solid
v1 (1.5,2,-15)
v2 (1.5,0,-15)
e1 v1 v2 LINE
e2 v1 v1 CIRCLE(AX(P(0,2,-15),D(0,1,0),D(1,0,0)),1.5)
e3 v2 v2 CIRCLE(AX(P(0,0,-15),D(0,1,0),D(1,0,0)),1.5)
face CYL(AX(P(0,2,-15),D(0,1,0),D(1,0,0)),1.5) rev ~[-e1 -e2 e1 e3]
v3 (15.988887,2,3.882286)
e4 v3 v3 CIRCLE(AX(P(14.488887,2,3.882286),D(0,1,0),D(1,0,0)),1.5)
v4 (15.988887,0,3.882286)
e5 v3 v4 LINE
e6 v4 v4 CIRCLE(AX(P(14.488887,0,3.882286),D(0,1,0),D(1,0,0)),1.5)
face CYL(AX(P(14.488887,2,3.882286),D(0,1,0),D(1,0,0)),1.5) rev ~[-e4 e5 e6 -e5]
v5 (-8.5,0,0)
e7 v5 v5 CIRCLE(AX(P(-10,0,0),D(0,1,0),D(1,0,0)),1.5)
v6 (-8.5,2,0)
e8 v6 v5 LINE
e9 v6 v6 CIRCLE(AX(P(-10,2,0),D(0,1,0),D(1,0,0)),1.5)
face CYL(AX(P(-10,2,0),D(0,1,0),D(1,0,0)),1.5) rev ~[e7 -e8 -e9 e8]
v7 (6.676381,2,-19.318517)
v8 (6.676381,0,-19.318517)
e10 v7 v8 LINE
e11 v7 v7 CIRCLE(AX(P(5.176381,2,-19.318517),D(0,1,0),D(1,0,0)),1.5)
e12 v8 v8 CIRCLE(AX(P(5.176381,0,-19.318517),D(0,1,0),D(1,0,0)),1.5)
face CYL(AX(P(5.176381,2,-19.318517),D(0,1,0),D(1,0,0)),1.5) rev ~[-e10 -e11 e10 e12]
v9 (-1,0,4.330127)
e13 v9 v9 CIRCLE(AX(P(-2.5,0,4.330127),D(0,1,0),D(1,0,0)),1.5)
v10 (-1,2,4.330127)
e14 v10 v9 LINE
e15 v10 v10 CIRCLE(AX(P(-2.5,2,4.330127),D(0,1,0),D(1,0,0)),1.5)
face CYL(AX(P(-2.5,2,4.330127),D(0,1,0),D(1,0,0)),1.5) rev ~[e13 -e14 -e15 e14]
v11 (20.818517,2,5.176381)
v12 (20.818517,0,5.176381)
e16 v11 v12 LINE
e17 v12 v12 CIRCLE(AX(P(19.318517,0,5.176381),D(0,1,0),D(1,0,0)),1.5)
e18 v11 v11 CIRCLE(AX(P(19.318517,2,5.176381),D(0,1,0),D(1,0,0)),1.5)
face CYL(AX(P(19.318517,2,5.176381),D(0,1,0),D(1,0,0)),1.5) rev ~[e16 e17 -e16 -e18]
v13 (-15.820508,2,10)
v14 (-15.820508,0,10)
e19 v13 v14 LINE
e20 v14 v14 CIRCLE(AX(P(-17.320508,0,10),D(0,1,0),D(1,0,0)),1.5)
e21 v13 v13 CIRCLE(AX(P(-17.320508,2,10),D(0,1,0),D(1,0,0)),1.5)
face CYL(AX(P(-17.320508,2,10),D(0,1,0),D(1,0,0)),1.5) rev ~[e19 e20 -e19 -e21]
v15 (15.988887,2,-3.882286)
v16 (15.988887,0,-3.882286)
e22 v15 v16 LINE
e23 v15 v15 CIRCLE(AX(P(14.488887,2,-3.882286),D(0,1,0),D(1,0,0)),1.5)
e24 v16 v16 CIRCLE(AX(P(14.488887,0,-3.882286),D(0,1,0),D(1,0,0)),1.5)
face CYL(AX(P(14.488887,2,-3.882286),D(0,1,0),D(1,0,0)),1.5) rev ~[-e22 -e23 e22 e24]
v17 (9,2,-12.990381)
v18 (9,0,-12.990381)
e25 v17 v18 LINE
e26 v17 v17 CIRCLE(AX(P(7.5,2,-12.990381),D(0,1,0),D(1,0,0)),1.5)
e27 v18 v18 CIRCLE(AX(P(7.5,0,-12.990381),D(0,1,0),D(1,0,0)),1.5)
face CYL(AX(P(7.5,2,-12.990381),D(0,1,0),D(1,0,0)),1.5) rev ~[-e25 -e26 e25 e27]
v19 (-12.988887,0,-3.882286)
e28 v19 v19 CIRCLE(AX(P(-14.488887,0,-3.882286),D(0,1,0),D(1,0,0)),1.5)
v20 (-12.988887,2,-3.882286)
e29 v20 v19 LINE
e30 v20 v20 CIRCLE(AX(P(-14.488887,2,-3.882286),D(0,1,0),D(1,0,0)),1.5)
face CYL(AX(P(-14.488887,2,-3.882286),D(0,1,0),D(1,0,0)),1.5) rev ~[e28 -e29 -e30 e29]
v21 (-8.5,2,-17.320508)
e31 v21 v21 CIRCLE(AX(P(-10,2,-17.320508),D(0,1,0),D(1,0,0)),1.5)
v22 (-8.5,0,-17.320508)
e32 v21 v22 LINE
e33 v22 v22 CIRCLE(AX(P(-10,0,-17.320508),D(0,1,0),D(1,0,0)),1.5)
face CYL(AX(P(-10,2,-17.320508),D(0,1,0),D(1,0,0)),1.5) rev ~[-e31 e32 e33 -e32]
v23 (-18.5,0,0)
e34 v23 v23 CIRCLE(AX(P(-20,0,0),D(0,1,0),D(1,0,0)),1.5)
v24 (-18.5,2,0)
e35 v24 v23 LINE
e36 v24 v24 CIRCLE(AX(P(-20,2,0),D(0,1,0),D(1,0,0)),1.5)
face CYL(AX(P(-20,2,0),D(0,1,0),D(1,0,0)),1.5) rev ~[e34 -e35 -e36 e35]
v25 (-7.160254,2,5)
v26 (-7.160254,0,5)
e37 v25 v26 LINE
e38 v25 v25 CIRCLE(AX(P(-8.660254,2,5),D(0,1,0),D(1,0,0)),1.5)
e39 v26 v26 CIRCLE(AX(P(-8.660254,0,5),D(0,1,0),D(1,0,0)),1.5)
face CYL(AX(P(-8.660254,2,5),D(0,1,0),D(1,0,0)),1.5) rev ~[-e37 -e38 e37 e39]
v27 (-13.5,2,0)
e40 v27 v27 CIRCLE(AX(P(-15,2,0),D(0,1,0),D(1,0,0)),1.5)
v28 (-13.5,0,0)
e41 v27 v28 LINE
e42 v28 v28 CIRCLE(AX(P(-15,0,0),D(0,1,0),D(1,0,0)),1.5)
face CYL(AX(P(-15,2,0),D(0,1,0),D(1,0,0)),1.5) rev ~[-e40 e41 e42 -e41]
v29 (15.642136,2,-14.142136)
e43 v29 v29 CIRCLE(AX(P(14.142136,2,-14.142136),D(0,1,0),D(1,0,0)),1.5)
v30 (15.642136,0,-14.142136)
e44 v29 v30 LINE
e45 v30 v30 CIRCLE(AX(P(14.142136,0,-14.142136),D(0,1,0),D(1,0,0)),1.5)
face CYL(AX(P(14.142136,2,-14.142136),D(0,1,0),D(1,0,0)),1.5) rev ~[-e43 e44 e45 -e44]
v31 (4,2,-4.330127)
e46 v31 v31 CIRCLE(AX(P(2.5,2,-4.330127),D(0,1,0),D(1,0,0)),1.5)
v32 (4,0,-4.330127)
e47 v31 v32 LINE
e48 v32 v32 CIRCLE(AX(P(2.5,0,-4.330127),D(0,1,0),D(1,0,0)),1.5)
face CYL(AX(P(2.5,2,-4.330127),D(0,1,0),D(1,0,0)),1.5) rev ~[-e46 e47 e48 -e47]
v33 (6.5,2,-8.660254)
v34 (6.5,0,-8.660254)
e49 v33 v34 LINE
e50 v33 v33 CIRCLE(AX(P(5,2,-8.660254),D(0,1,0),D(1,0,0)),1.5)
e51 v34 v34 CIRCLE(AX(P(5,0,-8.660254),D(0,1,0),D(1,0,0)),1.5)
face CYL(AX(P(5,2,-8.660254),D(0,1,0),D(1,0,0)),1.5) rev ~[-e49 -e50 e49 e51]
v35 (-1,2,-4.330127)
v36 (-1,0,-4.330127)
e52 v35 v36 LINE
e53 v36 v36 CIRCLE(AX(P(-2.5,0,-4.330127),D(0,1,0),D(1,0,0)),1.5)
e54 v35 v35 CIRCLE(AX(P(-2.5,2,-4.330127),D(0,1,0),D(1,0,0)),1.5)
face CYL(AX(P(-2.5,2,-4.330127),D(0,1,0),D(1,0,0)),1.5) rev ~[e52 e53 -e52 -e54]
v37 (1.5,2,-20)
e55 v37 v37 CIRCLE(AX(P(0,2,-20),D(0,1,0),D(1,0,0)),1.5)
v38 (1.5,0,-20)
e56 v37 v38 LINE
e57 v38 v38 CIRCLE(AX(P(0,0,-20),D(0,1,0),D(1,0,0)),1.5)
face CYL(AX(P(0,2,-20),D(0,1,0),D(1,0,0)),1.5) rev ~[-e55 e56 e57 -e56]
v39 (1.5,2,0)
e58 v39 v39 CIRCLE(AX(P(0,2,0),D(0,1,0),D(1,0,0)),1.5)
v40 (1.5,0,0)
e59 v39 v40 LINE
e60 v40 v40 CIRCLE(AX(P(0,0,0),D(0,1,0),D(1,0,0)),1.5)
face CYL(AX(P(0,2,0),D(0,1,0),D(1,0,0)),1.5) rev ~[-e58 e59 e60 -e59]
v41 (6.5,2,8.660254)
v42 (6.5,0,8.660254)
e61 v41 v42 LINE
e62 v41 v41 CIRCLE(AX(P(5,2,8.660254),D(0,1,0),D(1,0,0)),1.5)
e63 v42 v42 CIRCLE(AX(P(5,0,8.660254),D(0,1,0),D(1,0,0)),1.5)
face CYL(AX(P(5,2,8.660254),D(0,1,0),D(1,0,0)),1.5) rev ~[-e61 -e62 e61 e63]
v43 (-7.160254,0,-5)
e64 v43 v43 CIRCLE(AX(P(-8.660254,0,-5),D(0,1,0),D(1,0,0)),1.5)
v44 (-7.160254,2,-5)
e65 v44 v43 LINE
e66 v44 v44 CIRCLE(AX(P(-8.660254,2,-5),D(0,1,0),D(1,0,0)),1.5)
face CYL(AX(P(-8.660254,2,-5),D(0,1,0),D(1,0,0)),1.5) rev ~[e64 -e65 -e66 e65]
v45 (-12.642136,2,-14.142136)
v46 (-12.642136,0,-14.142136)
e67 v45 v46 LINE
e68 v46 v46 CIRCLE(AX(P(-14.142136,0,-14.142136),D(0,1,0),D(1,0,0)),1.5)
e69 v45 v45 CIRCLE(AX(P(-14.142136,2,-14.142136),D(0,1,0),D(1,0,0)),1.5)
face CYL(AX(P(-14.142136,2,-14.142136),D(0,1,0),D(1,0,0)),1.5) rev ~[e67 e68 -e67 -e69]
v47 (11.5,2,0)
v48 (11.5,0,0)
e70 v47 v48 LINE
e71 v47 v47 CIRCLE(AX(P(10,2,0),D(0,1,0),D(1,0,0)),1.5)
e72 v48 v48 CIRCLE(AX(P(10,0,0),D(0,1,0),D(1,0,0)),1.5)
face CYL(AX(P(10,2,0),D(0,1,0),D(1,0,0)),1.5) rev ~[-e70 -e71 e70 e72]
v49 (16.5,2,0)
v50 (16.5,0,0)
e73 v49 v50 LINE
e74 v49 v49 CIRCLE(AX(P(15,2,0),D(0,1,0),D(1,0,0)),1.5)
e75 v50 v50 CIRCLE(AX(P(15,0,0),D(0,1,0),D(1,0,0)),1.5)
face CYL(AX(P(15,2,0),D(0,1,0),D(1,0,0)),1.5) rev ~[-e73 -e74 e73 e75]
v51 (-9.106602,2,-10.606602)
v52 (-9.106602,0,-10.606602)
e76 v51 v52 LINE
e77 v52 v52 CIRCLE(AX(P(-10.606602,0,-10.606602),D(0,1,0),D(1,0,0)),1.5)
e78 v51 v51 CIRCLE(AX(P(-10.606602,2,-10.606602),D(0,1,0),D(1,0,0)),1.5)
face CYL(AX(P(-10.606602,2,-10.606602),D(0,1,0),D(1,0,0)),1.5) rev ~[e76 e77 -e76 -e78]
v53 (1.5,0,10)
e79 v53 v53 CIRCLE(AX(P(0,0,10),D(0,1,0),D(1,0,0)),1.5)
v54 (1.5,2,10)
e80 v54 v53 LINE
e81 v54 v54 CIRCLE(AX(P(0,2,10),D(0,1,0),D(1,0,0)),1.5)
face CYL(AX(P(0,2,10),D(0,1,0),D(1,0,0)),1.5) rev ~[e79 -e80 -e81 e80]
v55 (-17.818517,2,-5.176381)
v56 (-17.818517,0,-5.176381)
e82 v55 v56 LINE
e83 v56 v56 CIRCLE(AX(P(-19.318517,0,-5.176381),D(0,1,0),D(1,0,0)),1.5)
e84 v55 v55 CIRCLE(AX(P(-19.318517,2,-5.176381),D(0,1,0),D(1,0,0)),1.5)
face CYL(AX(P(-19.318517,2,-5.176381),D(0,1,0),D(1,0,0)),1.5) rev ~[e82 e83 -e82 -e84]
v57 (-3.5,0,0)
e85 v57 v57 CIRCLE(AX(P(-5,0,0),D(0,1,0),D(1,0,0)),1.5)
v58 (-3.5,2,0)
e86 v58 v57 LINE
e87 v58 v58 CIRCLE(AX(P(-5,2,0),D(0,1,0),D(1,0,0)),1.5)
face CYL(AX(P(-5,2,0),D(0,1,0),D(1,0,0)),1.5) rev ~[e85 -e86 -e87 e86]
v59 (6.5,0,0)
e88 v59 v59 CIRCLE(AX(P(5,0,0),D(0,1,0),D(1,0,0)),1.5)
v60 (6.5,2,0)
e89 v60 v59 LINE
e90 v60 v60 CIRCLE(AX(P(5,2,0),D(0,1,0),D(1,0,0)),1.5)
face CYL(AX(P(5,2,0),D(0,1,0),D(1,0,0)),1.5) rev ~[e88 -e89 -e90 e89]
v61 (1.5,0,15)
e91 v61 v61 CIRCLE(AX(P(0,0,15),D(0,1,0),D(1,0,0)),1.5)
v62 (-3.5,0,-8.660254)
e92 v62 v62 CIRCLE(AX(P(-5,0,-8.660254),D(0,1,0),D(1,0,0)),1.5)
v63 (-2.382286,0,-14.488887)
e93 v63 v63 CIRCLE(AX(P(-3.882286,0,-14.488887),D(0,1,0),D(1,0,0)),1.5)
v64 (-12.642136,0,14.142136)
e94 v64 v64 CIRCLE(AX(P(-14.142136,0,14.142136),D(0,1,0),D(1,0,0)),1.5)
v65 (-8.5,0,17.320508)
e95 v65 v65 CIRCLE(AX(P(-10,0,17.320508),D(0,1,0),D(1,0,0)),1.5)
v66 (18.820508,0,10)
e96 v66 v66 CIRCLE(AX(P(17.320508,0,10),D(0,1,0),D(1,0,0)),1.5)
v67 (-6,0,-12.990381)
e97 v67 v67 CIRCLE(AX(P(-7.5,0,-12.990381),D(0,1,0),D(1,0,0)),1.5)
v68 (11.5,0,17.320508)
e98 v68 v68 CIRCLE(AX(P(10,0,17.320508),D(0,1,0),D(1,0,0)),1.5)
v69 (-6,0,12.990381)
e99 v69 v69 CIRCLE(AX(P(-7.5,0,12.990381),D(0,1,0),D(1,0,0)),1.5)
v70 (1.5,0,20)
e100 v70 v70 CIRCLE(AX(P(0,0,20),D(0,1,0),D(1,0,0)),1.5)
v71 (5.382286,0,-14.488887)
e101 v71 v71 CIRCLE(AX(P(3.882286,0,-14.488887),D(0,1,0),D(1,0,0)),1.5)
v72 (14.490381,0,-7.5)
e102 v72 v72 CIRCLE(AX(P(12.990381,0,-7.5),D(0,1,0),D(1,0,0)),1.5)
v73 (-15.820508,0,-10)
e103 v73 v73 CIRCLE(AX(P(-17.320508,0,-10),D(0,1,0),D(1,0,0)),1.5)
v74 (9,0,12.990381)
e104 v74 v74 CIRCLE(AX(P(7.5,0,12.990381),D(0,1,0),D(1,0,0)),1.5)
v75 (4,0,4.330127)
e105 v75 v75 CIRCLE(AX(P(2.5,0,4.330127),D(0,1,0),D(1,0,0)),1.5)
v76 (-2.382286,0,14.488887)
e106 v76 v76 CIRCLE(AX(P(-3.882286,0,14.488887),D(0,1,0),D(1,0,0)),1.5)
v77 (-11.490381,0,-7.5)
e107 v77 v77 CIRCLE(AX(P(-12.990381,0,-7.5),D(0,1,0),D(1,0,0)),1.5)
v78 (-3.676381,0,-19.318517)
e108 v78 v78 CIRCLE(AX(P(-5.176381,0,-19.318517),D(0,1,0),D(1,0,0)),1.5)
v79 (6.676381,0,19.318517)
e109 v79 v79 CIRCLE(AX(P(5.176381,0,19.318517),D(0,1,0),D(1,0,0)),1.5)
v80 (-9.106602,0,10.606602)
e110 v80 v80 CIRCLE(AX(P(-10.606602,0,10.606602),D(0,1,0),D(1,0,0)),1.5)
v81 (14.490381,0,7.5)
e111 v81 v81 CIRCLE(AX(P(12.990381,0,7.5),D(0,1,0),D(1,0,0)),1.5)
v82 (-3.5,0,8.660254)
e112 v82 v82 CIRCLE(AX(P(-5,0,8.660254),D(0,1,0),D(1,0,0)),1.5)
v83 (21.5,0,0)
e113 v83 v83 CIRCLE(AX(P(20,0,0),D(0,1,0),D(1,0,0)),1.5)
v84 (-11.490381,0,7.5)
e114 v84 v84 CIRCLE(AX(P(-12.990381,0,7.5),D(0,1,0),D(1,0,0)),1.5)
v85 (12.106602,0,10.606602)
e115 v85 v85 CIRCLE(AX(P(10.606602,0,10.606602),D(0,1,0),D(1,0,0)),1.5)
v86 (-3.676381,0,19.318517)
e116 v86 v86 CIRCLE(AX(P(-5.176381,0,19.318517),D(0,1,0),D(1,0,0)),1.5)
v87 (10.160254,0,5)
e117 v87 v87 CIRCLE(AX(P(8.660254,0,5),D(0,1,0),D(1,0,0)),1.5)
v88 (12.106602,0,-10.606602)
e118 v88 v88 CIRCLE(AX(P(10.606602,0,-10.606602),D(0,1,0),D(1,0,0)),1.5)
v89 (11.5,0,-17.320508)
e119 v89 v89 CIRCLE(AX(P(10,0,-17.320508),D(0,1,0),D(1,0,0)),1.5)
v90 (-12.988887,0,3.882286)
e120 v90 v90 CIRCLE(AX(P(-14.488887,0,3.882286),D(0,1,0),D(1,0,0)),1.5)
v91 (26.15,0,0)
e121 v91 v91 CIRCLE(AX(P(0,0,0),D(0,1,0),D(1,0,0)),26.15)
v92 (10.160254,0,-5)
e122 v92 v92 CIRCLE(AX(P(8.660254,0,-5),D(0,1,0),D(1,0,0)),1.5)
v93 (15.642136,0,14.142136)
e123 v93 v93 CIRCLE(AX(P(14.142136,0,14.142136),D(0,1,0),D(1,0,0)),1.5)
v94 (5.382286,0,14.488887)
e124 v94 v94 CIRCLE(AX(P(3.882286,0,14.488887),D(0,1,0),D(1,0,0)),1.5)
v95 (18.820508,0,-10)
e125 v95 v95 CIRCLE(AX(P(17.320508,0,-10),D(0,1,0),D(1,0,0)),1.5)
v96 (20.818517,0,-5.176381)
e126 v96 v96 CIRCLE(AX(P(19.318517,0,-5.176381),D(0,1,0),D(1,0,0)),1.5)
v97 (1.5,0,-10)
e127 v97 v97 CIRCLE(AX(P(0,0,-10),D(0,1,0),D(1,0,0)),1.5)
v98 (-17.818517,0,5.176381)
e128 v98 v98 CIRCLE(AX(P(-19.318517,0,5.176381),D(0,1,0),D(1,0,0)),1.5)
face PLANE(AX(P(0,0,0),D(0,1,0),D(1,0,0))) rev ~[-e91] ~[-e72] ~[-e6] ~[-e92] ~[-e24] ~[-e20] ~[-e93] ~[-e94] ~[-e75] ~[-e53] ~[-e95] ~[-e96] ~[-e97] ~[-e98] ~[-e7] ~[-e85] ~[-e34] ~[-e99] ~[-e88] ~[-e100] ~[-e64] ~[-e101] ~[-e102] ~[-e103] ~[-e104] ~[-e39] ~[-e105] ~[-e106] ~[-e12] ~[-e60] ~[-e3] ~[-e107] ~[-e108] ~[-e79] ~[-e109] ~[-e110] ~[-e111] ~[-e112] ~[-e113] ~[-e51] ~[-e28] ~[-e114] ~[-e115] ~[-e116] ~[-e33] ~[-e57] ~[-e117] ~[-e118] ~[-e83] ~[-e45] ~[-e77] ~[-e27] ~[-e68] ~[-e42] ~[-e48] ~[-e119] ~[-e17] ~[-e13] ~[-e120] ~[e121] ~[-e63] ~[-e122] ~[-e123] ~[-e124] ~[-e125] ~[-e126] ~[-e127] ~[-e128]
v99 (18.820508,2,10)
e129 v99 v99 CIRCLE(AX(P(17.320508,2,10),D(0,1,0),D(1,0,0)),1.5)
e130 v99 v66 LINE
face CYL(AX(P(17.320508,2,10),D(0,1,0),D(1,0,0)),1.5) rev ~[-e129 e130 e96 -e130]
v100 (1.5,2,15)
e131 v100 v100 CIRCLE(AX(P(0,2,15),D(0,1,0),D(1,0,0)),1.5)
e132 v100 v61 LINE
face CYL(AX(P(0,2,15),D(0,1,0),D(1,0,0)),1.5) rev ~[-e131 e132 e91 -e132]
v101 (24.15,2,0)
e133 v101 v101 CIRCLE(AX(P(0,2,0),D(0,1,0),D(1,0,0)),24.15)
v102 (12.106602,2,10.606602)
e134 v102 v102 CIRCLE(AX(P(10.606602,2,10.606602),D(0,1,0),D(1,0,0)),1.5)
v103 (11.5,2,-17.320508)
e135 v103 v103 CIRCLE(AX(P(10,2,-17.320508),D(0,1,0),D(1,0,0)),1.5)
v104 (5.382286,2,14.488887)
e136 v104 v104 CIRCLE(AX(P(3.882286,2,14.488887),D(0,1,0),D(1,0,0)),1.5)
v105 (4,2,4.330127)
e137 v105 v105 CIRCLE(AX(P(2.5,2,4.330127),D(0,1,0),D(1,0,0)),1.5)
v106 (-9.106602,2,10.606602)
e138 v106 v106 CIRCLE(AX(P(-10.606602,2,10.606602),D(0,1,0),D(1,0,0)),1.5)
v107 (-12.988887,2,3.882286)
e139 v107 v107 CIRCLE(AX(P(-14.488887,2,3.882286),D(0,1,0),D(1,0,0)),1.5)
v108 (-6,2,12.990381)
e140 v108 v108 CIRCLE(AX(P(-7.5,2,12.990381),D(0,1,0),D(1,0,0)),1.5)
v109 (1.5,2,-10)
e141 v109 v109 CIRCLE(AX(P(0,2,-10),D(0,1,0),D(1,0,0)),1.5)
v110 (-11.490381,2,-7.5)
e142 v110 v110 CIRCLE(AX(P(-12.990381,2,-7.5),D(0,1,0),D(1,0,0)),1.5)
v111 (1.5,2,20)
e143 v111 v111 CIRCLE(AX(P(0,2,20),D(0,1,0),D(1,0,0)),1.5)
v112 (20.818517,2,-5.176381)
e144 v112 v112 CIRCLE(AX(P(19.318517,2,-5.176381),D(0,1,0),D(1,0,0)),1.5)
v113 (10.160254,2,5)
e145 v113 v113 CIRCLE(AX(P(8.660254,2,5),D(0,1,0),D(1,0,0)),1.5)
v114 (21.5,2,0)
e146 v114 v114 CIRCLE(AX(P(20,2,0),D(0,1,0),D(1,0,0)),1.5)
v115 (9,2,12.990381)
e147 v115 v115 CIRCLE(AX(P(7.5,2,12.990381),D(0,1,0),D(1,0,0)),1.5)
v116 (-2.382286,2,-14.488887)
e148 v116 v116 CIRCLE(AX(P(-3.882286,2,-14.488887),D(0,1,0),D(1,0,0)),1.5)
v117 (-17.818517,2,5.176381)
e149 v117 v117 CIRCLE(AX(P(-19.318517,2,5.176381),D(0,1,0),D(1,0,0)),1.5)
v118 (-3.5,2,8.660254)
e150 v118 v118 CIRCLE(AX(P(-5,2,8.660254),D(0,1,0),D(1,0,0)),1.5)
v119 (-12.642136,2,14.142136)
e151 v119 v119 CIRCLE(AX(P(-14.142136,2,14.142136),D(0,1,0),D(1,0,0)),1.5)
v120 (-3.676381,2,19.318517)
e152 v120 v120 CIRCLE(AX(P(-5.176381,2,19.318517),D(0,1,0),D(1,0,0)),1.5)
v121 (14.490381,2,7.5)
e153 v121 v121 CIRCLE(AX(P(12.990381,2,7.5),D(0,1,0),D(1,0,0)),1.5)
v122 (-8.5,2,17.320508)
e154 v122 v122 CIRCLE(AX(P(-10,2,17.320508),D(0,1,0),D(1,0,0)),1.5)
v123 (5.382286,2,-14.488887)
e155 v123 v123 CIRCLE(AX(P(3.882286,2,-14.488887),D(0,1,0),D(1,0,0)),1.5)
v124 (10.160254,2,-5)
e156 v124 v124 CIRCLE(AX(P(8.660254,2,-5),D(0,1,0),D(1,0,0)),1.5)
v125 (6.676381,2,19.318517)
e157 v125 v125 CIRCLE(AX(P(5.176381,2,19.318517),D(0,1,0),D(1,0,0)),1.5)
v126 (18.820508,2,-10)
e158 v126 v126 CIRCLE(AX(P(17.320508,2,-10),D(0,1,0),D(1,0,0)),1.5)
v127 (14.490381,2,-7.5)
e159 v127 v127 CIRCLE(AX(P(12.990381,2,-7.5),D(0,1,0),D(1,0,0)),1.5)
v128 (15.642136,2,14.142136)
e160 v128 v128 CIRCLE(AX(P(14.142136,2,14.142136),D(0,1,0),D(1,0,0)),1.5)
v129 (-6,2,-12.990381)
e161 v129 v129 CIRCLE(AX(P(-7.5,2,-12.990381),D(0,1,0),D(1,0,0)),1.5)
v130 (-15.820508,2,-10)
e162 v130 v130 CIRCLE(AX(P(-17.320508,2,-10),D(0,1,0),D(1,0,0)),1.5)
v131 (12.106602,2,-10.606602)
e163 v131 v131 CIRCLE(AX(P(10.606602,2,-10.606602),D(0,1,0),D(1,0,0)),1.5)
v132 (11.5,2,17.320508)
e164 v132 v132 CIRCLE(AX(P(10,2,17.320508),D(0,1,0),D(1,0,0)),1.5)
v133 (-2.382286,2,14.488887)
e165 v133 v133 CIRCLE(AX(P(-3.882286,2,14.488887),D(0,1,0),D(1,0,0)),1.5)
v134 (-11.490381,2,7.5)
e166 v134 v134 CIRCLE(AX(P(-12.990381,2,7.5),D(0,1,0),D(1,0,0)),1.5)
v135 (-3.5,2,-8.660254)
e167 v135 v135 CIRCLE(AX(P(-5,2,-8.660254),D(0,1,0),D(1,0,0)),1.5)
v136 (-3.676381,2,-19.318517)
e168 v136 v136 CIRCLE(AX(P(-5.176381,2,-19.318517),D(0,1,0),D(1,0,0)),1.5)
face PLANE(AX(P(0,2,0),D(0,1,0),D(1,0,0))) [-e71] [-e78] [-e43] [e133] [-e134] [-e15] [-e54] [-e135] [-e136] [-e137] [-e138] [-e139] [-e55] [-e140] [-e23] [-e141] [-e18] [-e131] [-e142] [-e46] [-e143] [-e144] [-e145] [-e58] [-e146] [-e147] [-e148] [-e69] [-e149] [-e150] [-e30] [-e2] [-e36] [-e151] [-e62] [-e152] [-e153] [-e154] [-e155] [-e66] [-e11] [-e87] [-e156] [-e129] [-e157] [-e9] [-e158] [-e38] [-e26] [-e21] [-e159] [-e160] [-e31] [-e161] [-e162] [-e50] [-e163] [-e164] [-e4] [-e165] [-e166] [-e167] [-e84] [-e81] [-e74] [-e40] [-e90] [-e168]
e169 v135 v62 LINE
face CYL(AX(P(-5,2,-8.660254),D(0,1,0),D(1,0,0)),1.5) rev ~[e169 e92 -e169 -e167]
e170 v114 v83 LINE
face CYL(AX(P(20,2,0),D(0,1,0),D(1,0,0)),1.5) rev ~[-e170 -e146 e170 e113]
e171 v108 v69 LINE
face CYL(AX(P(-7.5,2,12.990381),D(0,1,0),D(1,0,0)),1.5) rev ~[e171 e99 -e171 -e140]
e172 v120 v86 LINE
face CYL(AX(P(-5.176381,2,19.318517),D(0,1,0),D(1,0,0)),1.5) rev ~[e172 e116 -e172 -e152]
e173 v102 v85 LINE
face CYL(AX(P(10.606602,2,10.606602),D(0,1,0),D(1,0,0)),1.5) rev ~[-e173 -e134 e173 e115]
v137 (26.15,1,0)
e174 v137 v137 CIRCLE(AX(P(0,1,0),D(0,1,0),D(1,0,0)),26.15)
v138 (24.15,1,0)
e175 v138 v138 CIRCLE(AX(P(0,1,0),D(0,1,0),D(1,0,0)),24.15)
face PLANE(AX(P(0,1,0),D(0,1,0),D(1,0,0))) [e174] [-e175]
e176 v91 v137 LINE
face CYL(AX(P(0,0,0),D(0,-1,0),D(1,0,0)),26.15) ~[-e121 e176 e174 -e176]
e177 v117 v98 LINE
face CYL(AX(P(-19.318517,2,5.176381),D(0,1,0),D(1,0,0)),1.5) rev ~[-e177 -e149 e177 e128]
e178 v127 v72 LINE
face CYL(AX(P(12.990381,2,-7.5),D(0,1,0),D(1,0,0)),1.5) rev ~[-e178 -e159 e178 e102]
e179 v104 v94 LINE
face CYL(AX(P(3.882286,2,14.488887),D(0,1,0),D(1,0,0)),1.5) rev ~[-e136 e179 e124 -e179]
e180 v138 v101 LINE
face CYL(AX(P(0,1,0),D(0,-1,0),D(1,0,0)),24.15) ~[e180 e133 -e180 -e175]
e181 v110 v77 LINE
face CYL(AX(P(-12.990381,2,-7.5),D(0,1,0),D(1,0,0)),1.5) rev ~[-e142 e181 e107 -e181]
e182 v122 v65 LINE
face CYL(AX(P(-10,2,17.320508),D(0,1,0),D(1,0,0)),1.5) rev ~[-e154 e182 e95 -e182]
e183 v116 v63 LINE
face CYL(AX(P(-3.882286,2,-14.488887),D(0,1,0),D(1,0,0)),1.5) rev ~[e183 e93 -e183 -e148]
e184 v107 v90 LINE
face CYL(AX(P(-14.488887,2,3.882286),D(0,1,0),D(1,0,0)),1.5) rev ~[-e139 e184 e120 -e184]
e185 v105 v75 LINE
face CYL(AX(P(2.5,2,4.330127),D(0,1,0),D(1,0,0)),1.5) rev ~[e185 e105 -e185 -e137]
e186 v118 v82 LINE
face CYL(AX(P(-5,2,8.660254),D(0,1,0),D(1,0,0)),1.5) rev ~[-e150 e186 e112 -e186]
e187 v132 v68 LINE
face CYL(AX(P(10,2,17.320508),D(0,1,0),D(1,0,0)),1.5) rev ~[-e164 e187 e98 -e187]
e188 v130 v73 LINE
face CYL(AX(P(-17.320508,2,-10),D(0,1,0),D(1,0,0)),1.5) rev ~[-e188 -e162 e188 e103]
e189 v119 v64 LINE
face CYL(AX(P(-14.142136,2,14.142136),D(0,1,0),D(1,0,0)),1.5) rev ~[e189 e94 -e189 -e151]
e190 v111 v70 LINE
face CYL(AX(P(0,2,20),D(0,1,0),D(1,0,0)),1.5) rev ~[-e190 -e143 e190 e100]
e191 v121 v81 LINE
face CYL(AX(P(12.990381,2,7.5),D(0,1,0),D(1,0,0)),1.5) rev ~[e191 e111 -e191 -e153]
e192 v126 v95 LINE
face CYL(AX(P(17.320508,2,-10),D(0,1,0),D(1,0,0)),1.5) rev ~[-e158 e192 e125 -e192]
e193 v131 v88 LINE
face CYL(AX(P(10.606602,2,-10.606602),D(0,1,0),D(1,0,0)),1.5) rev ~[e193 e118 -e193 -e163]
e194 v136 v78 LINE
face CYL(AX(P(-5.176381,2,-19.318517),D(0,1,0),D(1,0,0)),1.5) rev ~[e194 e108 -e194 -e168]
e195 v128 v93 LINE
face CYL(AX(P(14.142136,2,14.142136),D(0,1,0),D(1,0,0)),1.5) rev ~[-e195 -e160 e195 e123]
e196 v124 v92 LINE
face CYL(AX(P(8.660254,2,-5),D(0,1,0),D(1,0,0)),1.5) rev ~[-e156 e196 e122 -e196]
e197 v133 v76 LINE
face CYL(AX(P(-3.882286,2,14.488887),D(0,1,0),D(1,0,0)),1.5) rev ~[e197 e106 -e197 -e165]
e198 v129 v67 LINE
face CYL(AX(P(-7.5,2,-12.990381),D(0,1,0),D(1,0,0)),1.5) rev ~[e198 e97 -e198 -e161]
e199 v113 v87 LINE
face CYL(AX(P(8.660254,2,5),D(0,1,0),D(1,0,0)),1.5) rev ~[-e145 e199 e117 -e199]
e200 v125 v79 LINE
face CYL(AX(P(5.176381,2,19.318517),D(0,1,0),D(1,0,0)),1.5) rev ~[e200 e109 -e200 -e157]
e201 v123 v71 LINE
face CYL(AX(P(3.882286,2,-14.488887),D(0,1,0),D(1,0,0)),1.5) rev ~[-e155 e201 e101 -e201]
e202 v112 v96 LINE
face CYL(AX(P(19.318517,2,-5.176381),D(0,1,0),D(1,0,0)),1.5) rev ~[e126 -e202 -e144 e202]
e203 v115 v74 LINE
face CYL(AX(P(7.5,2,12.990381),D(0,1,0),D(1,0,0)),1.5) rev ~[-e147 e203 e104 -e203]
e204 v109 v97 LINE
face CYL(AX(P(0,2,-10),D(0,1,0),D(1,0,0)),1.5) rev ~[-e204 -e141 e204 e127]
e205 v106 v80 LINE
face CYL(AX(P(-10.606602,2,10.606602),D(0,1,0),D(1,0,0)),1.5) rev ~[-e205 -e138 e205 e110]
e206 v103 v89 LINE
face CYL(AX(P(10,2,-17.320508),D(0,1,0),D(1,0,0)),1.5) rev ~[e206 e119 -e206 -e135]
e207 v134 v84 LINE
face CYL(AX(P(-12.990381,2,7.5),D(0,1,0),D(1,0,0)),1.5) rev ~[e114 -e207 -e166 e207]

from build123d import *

# Parameters (mm, degrees)
SKETCH_1_R          = 26.15
EXTRUDE_1_DEPTH     = 1
SKETCH_2_R          = 24.15
EXTRUDE_2_DEPTH     = 1
SKETCH_3_R          = 1.5
CUT_EXTRUDE_1_DEPTH = 3


with BuildPart() as part:
    # Эскиз1 → Бобышка-Вытянуть1 (new body)
    with BuildSketch(Plane(origin=(0, 0, 0), x_dir=(1, 0, 0), z_dir=(0, 1, 0))):
        Circle(SKETCH_1_R)
    extrude(amount=EXTRUDE_1_DEPTH)

    # Эскиз2 → Бобышка-Вытянуть2 (add)
    with BuildSketch(Plane(origin=(0, 1, 0), x_dir=(1, 0, 0), z_dir=(0, 1, 0))):
        Circle(SKETCH_2_R)
    extrude(amount=EXTRUDE_2_DEPTH)

    # Эскиз3 → Вырез-Вытянуть1 (cut, through all)
    with BuildSketch(Plane(origin=(0, 2, 0), x_dir=(1, 0, 0), z_dir=(0, 1, 0))):
        Circle(SKETCH_3_R)
        with Locations((5, 0)):
            Circle(SKETCH_3_R)
        with Locations((10, 0)):
            Circle(SKETCH_3_R)
        with Locations((15, 0)):
            Circle(SKETCH_3_R)
        with Locations((20, 0)):
            Circle(SKETCH_3_R)
        with Locations((2.5, -4.330127019)):
            Circle(SKETCH_3_R)
        with Locations((5, -8.660254038)):
            Circle(SKETCH_3_R)
        with Locations((7.5, -12.990381057)):
            Circle(SKETCH_3_R)
        with Locations((10, -17.320508076)):
            Circle(SKETCH_3_R)
        with Locations((-2.5, -4.330127019)):
            Circle(SKETCH_3_R)
        with Locations((-5, -8.660254038)):
            Circle(SKETCH_3_R)
        with Locations((-7.5, -12.990381057)):
            Circle(SKETCH_3_R)
        with Locations((-10, -17.320508076)):
            Circle(SKETCH_3_R)
        with Locations((-5, 0)):
            Circle(SKETCH_3_R)
        with Locations((-10, 0)):
            Circle(SKETCH_3_R)
        with Locations((-15, 0)):
            Circle(SKETCH_3_R)
        with Locations((-20, 0)):
            Circle(SKETCH_3_R)
        with Locations((-2.5, 4.330127019)):
            Circle(SKETCH_3_R)
        with Locations((-5, 8.660254038)):
            Circle(SKETCH_3_R)
        with Locations((-7.5, 12.990381057)):
            Circle(SKETCH_3_R)
        with Locations((-10, 17.320508076)):
            Circle(SKETCH_3_R)
        with Locations((2.5, 4.330127019)):
            Circle(SKETCH_3_R)
        with Locations((5, 8.660254038)):
            Circle(SKETCH_3_R)
        with Locations((7.5, 12.990381057)):
            Circle(SKETCH_3_R)
        with Locations((10, 17.320508076)):
            Circle(SKETCH_3_R)
        with Locations((8.660254038, -5)):
            Circle(SKETCH_3_R)
        with Locations((12.990381057, -7.5)):
            Circle(SKETCH_3_R)
        with Locations((17.320508076, -10)):
            Circle(SKETCH_3_R)
        with Locations((0, -10)):
            Circle(SKETCH_3_R)
        with Locations((0, -15)):
            Circle(SKETCH_3_R)
        with Locations((0, -20)):
            Circle(SKETCH_3_R)
        with Locations((-8.660254038, -5)):
            Circle(SKETCH_3_R)
        with Locations((-12.990381057, -7.5)):
            Circle(SKETCH_3_R)
        with Locations((-17.320508076, -10)):
            Circle(SKETCH_3_R)
        with Locations((-8.660254038, 5)):
            Circle(SKETCH_3_R)
        with Locations((-12.990381057, 7.5)):
            Circle(SKETCH_3_R)
        with Locations((-17.320508076, 10)):
            Circle(SKETCH_3_R)
        with Locations((0, 10)):
            Circle(SKETCH_3_R)
        with Locations((0, 15)):
            Circle(SKETCH_3_R)
        with Locations((0, 20)):
            Circle(SKETCH_3_R)
        with Locations((8.660254038, 5)):
            Circle(SKETCH_3_R)
        with Locations((12.990381057, 7.5)):
            Circle(SKETCH_3_R)
        with Locations((17.320508076, 10)):
            Circle(SKETCH_3_R)
        with Locations((14.488887394, -3.882285677)):
            Circle(SKETCH_3_R)
        with Locations((19.318516526, -5.176380902)):
            Circle(SKETCH_3_R)
        with Locations((10.606601718, -10.606601718)):
            Circle(SKETCH_3_R)
        with Locations((14.142135624, -14.142135624)):
            Circle(SKETCH_3_R)
        with Locations((3.882285677, -14.488887394)):
            Circle(SKETCH_3_R)
        with Locations((5.176380902, -19.318516526)):
            Circle(SKETCH_3_R)
        with Locations((-3.882285677, -14.488887394)):
            Circle(SKETCH_3_R)
        with Locations((-5.176380902, -19.318516526)):
            Circle(SKETCH_3_R)
        with Locations((-10.606601718, -10.606601718)):
            Circle(SKETCH_3_R)
        with Locations((-14.142135624, -14.142135624)):
            Circle(SKETCH_3_R)
        with Locations((-14.488887394, -3.882285677)):
            Circle(SKETCH_3_R)
        with Locations((-19.318516526, -5.176380902)):
            Circle(SKETCH_3_R)
        with Locations((-14.488887394, 3.882285677)):
            Circle(SKETCH_3_R)
        with Locations((-19.318516526, 5.176380902)):
            Circle(SKETCH_3_R)
        with Locations((-10.606601718, 10.606601718)):
            Circle(SKETCH_3_R)
        with Locations((-14.142135624, 14.142135624)):
            Circle(SKETCH_3_R)
        with Locations((-3.882285677, 14.488887394)):
            Circle(SKETCH_3_R)
        with Locations((-5.176380902, 19.318516526)):
            Circle(SKETCH_3_R)
        with Locations((3.882285677, 14.488887394)):
            Circle(SKETCH_3_R)
        with Locations((5.176380902, 19.318516526)):
            Circle(SKETCH_3_R)
        with Locations((10.606601718, 10.606601718)):
            Circle(SKETCH_3_R)
        with Locations((14.142135624, 14.142135624)):
            Circle(SKETCH_3_R)
        with Locations((14.488887394, 3.882285677)):
            Circle(SKETCH_3_R)
        with Locations((19.318516526, 5.176380902)):
            Circle(SKETCH_3_R)
    extrude(amount=-CUT_EXTRUDE_1_DEPTH, mode=Mode.SUBTRACT)


solid = part.part
